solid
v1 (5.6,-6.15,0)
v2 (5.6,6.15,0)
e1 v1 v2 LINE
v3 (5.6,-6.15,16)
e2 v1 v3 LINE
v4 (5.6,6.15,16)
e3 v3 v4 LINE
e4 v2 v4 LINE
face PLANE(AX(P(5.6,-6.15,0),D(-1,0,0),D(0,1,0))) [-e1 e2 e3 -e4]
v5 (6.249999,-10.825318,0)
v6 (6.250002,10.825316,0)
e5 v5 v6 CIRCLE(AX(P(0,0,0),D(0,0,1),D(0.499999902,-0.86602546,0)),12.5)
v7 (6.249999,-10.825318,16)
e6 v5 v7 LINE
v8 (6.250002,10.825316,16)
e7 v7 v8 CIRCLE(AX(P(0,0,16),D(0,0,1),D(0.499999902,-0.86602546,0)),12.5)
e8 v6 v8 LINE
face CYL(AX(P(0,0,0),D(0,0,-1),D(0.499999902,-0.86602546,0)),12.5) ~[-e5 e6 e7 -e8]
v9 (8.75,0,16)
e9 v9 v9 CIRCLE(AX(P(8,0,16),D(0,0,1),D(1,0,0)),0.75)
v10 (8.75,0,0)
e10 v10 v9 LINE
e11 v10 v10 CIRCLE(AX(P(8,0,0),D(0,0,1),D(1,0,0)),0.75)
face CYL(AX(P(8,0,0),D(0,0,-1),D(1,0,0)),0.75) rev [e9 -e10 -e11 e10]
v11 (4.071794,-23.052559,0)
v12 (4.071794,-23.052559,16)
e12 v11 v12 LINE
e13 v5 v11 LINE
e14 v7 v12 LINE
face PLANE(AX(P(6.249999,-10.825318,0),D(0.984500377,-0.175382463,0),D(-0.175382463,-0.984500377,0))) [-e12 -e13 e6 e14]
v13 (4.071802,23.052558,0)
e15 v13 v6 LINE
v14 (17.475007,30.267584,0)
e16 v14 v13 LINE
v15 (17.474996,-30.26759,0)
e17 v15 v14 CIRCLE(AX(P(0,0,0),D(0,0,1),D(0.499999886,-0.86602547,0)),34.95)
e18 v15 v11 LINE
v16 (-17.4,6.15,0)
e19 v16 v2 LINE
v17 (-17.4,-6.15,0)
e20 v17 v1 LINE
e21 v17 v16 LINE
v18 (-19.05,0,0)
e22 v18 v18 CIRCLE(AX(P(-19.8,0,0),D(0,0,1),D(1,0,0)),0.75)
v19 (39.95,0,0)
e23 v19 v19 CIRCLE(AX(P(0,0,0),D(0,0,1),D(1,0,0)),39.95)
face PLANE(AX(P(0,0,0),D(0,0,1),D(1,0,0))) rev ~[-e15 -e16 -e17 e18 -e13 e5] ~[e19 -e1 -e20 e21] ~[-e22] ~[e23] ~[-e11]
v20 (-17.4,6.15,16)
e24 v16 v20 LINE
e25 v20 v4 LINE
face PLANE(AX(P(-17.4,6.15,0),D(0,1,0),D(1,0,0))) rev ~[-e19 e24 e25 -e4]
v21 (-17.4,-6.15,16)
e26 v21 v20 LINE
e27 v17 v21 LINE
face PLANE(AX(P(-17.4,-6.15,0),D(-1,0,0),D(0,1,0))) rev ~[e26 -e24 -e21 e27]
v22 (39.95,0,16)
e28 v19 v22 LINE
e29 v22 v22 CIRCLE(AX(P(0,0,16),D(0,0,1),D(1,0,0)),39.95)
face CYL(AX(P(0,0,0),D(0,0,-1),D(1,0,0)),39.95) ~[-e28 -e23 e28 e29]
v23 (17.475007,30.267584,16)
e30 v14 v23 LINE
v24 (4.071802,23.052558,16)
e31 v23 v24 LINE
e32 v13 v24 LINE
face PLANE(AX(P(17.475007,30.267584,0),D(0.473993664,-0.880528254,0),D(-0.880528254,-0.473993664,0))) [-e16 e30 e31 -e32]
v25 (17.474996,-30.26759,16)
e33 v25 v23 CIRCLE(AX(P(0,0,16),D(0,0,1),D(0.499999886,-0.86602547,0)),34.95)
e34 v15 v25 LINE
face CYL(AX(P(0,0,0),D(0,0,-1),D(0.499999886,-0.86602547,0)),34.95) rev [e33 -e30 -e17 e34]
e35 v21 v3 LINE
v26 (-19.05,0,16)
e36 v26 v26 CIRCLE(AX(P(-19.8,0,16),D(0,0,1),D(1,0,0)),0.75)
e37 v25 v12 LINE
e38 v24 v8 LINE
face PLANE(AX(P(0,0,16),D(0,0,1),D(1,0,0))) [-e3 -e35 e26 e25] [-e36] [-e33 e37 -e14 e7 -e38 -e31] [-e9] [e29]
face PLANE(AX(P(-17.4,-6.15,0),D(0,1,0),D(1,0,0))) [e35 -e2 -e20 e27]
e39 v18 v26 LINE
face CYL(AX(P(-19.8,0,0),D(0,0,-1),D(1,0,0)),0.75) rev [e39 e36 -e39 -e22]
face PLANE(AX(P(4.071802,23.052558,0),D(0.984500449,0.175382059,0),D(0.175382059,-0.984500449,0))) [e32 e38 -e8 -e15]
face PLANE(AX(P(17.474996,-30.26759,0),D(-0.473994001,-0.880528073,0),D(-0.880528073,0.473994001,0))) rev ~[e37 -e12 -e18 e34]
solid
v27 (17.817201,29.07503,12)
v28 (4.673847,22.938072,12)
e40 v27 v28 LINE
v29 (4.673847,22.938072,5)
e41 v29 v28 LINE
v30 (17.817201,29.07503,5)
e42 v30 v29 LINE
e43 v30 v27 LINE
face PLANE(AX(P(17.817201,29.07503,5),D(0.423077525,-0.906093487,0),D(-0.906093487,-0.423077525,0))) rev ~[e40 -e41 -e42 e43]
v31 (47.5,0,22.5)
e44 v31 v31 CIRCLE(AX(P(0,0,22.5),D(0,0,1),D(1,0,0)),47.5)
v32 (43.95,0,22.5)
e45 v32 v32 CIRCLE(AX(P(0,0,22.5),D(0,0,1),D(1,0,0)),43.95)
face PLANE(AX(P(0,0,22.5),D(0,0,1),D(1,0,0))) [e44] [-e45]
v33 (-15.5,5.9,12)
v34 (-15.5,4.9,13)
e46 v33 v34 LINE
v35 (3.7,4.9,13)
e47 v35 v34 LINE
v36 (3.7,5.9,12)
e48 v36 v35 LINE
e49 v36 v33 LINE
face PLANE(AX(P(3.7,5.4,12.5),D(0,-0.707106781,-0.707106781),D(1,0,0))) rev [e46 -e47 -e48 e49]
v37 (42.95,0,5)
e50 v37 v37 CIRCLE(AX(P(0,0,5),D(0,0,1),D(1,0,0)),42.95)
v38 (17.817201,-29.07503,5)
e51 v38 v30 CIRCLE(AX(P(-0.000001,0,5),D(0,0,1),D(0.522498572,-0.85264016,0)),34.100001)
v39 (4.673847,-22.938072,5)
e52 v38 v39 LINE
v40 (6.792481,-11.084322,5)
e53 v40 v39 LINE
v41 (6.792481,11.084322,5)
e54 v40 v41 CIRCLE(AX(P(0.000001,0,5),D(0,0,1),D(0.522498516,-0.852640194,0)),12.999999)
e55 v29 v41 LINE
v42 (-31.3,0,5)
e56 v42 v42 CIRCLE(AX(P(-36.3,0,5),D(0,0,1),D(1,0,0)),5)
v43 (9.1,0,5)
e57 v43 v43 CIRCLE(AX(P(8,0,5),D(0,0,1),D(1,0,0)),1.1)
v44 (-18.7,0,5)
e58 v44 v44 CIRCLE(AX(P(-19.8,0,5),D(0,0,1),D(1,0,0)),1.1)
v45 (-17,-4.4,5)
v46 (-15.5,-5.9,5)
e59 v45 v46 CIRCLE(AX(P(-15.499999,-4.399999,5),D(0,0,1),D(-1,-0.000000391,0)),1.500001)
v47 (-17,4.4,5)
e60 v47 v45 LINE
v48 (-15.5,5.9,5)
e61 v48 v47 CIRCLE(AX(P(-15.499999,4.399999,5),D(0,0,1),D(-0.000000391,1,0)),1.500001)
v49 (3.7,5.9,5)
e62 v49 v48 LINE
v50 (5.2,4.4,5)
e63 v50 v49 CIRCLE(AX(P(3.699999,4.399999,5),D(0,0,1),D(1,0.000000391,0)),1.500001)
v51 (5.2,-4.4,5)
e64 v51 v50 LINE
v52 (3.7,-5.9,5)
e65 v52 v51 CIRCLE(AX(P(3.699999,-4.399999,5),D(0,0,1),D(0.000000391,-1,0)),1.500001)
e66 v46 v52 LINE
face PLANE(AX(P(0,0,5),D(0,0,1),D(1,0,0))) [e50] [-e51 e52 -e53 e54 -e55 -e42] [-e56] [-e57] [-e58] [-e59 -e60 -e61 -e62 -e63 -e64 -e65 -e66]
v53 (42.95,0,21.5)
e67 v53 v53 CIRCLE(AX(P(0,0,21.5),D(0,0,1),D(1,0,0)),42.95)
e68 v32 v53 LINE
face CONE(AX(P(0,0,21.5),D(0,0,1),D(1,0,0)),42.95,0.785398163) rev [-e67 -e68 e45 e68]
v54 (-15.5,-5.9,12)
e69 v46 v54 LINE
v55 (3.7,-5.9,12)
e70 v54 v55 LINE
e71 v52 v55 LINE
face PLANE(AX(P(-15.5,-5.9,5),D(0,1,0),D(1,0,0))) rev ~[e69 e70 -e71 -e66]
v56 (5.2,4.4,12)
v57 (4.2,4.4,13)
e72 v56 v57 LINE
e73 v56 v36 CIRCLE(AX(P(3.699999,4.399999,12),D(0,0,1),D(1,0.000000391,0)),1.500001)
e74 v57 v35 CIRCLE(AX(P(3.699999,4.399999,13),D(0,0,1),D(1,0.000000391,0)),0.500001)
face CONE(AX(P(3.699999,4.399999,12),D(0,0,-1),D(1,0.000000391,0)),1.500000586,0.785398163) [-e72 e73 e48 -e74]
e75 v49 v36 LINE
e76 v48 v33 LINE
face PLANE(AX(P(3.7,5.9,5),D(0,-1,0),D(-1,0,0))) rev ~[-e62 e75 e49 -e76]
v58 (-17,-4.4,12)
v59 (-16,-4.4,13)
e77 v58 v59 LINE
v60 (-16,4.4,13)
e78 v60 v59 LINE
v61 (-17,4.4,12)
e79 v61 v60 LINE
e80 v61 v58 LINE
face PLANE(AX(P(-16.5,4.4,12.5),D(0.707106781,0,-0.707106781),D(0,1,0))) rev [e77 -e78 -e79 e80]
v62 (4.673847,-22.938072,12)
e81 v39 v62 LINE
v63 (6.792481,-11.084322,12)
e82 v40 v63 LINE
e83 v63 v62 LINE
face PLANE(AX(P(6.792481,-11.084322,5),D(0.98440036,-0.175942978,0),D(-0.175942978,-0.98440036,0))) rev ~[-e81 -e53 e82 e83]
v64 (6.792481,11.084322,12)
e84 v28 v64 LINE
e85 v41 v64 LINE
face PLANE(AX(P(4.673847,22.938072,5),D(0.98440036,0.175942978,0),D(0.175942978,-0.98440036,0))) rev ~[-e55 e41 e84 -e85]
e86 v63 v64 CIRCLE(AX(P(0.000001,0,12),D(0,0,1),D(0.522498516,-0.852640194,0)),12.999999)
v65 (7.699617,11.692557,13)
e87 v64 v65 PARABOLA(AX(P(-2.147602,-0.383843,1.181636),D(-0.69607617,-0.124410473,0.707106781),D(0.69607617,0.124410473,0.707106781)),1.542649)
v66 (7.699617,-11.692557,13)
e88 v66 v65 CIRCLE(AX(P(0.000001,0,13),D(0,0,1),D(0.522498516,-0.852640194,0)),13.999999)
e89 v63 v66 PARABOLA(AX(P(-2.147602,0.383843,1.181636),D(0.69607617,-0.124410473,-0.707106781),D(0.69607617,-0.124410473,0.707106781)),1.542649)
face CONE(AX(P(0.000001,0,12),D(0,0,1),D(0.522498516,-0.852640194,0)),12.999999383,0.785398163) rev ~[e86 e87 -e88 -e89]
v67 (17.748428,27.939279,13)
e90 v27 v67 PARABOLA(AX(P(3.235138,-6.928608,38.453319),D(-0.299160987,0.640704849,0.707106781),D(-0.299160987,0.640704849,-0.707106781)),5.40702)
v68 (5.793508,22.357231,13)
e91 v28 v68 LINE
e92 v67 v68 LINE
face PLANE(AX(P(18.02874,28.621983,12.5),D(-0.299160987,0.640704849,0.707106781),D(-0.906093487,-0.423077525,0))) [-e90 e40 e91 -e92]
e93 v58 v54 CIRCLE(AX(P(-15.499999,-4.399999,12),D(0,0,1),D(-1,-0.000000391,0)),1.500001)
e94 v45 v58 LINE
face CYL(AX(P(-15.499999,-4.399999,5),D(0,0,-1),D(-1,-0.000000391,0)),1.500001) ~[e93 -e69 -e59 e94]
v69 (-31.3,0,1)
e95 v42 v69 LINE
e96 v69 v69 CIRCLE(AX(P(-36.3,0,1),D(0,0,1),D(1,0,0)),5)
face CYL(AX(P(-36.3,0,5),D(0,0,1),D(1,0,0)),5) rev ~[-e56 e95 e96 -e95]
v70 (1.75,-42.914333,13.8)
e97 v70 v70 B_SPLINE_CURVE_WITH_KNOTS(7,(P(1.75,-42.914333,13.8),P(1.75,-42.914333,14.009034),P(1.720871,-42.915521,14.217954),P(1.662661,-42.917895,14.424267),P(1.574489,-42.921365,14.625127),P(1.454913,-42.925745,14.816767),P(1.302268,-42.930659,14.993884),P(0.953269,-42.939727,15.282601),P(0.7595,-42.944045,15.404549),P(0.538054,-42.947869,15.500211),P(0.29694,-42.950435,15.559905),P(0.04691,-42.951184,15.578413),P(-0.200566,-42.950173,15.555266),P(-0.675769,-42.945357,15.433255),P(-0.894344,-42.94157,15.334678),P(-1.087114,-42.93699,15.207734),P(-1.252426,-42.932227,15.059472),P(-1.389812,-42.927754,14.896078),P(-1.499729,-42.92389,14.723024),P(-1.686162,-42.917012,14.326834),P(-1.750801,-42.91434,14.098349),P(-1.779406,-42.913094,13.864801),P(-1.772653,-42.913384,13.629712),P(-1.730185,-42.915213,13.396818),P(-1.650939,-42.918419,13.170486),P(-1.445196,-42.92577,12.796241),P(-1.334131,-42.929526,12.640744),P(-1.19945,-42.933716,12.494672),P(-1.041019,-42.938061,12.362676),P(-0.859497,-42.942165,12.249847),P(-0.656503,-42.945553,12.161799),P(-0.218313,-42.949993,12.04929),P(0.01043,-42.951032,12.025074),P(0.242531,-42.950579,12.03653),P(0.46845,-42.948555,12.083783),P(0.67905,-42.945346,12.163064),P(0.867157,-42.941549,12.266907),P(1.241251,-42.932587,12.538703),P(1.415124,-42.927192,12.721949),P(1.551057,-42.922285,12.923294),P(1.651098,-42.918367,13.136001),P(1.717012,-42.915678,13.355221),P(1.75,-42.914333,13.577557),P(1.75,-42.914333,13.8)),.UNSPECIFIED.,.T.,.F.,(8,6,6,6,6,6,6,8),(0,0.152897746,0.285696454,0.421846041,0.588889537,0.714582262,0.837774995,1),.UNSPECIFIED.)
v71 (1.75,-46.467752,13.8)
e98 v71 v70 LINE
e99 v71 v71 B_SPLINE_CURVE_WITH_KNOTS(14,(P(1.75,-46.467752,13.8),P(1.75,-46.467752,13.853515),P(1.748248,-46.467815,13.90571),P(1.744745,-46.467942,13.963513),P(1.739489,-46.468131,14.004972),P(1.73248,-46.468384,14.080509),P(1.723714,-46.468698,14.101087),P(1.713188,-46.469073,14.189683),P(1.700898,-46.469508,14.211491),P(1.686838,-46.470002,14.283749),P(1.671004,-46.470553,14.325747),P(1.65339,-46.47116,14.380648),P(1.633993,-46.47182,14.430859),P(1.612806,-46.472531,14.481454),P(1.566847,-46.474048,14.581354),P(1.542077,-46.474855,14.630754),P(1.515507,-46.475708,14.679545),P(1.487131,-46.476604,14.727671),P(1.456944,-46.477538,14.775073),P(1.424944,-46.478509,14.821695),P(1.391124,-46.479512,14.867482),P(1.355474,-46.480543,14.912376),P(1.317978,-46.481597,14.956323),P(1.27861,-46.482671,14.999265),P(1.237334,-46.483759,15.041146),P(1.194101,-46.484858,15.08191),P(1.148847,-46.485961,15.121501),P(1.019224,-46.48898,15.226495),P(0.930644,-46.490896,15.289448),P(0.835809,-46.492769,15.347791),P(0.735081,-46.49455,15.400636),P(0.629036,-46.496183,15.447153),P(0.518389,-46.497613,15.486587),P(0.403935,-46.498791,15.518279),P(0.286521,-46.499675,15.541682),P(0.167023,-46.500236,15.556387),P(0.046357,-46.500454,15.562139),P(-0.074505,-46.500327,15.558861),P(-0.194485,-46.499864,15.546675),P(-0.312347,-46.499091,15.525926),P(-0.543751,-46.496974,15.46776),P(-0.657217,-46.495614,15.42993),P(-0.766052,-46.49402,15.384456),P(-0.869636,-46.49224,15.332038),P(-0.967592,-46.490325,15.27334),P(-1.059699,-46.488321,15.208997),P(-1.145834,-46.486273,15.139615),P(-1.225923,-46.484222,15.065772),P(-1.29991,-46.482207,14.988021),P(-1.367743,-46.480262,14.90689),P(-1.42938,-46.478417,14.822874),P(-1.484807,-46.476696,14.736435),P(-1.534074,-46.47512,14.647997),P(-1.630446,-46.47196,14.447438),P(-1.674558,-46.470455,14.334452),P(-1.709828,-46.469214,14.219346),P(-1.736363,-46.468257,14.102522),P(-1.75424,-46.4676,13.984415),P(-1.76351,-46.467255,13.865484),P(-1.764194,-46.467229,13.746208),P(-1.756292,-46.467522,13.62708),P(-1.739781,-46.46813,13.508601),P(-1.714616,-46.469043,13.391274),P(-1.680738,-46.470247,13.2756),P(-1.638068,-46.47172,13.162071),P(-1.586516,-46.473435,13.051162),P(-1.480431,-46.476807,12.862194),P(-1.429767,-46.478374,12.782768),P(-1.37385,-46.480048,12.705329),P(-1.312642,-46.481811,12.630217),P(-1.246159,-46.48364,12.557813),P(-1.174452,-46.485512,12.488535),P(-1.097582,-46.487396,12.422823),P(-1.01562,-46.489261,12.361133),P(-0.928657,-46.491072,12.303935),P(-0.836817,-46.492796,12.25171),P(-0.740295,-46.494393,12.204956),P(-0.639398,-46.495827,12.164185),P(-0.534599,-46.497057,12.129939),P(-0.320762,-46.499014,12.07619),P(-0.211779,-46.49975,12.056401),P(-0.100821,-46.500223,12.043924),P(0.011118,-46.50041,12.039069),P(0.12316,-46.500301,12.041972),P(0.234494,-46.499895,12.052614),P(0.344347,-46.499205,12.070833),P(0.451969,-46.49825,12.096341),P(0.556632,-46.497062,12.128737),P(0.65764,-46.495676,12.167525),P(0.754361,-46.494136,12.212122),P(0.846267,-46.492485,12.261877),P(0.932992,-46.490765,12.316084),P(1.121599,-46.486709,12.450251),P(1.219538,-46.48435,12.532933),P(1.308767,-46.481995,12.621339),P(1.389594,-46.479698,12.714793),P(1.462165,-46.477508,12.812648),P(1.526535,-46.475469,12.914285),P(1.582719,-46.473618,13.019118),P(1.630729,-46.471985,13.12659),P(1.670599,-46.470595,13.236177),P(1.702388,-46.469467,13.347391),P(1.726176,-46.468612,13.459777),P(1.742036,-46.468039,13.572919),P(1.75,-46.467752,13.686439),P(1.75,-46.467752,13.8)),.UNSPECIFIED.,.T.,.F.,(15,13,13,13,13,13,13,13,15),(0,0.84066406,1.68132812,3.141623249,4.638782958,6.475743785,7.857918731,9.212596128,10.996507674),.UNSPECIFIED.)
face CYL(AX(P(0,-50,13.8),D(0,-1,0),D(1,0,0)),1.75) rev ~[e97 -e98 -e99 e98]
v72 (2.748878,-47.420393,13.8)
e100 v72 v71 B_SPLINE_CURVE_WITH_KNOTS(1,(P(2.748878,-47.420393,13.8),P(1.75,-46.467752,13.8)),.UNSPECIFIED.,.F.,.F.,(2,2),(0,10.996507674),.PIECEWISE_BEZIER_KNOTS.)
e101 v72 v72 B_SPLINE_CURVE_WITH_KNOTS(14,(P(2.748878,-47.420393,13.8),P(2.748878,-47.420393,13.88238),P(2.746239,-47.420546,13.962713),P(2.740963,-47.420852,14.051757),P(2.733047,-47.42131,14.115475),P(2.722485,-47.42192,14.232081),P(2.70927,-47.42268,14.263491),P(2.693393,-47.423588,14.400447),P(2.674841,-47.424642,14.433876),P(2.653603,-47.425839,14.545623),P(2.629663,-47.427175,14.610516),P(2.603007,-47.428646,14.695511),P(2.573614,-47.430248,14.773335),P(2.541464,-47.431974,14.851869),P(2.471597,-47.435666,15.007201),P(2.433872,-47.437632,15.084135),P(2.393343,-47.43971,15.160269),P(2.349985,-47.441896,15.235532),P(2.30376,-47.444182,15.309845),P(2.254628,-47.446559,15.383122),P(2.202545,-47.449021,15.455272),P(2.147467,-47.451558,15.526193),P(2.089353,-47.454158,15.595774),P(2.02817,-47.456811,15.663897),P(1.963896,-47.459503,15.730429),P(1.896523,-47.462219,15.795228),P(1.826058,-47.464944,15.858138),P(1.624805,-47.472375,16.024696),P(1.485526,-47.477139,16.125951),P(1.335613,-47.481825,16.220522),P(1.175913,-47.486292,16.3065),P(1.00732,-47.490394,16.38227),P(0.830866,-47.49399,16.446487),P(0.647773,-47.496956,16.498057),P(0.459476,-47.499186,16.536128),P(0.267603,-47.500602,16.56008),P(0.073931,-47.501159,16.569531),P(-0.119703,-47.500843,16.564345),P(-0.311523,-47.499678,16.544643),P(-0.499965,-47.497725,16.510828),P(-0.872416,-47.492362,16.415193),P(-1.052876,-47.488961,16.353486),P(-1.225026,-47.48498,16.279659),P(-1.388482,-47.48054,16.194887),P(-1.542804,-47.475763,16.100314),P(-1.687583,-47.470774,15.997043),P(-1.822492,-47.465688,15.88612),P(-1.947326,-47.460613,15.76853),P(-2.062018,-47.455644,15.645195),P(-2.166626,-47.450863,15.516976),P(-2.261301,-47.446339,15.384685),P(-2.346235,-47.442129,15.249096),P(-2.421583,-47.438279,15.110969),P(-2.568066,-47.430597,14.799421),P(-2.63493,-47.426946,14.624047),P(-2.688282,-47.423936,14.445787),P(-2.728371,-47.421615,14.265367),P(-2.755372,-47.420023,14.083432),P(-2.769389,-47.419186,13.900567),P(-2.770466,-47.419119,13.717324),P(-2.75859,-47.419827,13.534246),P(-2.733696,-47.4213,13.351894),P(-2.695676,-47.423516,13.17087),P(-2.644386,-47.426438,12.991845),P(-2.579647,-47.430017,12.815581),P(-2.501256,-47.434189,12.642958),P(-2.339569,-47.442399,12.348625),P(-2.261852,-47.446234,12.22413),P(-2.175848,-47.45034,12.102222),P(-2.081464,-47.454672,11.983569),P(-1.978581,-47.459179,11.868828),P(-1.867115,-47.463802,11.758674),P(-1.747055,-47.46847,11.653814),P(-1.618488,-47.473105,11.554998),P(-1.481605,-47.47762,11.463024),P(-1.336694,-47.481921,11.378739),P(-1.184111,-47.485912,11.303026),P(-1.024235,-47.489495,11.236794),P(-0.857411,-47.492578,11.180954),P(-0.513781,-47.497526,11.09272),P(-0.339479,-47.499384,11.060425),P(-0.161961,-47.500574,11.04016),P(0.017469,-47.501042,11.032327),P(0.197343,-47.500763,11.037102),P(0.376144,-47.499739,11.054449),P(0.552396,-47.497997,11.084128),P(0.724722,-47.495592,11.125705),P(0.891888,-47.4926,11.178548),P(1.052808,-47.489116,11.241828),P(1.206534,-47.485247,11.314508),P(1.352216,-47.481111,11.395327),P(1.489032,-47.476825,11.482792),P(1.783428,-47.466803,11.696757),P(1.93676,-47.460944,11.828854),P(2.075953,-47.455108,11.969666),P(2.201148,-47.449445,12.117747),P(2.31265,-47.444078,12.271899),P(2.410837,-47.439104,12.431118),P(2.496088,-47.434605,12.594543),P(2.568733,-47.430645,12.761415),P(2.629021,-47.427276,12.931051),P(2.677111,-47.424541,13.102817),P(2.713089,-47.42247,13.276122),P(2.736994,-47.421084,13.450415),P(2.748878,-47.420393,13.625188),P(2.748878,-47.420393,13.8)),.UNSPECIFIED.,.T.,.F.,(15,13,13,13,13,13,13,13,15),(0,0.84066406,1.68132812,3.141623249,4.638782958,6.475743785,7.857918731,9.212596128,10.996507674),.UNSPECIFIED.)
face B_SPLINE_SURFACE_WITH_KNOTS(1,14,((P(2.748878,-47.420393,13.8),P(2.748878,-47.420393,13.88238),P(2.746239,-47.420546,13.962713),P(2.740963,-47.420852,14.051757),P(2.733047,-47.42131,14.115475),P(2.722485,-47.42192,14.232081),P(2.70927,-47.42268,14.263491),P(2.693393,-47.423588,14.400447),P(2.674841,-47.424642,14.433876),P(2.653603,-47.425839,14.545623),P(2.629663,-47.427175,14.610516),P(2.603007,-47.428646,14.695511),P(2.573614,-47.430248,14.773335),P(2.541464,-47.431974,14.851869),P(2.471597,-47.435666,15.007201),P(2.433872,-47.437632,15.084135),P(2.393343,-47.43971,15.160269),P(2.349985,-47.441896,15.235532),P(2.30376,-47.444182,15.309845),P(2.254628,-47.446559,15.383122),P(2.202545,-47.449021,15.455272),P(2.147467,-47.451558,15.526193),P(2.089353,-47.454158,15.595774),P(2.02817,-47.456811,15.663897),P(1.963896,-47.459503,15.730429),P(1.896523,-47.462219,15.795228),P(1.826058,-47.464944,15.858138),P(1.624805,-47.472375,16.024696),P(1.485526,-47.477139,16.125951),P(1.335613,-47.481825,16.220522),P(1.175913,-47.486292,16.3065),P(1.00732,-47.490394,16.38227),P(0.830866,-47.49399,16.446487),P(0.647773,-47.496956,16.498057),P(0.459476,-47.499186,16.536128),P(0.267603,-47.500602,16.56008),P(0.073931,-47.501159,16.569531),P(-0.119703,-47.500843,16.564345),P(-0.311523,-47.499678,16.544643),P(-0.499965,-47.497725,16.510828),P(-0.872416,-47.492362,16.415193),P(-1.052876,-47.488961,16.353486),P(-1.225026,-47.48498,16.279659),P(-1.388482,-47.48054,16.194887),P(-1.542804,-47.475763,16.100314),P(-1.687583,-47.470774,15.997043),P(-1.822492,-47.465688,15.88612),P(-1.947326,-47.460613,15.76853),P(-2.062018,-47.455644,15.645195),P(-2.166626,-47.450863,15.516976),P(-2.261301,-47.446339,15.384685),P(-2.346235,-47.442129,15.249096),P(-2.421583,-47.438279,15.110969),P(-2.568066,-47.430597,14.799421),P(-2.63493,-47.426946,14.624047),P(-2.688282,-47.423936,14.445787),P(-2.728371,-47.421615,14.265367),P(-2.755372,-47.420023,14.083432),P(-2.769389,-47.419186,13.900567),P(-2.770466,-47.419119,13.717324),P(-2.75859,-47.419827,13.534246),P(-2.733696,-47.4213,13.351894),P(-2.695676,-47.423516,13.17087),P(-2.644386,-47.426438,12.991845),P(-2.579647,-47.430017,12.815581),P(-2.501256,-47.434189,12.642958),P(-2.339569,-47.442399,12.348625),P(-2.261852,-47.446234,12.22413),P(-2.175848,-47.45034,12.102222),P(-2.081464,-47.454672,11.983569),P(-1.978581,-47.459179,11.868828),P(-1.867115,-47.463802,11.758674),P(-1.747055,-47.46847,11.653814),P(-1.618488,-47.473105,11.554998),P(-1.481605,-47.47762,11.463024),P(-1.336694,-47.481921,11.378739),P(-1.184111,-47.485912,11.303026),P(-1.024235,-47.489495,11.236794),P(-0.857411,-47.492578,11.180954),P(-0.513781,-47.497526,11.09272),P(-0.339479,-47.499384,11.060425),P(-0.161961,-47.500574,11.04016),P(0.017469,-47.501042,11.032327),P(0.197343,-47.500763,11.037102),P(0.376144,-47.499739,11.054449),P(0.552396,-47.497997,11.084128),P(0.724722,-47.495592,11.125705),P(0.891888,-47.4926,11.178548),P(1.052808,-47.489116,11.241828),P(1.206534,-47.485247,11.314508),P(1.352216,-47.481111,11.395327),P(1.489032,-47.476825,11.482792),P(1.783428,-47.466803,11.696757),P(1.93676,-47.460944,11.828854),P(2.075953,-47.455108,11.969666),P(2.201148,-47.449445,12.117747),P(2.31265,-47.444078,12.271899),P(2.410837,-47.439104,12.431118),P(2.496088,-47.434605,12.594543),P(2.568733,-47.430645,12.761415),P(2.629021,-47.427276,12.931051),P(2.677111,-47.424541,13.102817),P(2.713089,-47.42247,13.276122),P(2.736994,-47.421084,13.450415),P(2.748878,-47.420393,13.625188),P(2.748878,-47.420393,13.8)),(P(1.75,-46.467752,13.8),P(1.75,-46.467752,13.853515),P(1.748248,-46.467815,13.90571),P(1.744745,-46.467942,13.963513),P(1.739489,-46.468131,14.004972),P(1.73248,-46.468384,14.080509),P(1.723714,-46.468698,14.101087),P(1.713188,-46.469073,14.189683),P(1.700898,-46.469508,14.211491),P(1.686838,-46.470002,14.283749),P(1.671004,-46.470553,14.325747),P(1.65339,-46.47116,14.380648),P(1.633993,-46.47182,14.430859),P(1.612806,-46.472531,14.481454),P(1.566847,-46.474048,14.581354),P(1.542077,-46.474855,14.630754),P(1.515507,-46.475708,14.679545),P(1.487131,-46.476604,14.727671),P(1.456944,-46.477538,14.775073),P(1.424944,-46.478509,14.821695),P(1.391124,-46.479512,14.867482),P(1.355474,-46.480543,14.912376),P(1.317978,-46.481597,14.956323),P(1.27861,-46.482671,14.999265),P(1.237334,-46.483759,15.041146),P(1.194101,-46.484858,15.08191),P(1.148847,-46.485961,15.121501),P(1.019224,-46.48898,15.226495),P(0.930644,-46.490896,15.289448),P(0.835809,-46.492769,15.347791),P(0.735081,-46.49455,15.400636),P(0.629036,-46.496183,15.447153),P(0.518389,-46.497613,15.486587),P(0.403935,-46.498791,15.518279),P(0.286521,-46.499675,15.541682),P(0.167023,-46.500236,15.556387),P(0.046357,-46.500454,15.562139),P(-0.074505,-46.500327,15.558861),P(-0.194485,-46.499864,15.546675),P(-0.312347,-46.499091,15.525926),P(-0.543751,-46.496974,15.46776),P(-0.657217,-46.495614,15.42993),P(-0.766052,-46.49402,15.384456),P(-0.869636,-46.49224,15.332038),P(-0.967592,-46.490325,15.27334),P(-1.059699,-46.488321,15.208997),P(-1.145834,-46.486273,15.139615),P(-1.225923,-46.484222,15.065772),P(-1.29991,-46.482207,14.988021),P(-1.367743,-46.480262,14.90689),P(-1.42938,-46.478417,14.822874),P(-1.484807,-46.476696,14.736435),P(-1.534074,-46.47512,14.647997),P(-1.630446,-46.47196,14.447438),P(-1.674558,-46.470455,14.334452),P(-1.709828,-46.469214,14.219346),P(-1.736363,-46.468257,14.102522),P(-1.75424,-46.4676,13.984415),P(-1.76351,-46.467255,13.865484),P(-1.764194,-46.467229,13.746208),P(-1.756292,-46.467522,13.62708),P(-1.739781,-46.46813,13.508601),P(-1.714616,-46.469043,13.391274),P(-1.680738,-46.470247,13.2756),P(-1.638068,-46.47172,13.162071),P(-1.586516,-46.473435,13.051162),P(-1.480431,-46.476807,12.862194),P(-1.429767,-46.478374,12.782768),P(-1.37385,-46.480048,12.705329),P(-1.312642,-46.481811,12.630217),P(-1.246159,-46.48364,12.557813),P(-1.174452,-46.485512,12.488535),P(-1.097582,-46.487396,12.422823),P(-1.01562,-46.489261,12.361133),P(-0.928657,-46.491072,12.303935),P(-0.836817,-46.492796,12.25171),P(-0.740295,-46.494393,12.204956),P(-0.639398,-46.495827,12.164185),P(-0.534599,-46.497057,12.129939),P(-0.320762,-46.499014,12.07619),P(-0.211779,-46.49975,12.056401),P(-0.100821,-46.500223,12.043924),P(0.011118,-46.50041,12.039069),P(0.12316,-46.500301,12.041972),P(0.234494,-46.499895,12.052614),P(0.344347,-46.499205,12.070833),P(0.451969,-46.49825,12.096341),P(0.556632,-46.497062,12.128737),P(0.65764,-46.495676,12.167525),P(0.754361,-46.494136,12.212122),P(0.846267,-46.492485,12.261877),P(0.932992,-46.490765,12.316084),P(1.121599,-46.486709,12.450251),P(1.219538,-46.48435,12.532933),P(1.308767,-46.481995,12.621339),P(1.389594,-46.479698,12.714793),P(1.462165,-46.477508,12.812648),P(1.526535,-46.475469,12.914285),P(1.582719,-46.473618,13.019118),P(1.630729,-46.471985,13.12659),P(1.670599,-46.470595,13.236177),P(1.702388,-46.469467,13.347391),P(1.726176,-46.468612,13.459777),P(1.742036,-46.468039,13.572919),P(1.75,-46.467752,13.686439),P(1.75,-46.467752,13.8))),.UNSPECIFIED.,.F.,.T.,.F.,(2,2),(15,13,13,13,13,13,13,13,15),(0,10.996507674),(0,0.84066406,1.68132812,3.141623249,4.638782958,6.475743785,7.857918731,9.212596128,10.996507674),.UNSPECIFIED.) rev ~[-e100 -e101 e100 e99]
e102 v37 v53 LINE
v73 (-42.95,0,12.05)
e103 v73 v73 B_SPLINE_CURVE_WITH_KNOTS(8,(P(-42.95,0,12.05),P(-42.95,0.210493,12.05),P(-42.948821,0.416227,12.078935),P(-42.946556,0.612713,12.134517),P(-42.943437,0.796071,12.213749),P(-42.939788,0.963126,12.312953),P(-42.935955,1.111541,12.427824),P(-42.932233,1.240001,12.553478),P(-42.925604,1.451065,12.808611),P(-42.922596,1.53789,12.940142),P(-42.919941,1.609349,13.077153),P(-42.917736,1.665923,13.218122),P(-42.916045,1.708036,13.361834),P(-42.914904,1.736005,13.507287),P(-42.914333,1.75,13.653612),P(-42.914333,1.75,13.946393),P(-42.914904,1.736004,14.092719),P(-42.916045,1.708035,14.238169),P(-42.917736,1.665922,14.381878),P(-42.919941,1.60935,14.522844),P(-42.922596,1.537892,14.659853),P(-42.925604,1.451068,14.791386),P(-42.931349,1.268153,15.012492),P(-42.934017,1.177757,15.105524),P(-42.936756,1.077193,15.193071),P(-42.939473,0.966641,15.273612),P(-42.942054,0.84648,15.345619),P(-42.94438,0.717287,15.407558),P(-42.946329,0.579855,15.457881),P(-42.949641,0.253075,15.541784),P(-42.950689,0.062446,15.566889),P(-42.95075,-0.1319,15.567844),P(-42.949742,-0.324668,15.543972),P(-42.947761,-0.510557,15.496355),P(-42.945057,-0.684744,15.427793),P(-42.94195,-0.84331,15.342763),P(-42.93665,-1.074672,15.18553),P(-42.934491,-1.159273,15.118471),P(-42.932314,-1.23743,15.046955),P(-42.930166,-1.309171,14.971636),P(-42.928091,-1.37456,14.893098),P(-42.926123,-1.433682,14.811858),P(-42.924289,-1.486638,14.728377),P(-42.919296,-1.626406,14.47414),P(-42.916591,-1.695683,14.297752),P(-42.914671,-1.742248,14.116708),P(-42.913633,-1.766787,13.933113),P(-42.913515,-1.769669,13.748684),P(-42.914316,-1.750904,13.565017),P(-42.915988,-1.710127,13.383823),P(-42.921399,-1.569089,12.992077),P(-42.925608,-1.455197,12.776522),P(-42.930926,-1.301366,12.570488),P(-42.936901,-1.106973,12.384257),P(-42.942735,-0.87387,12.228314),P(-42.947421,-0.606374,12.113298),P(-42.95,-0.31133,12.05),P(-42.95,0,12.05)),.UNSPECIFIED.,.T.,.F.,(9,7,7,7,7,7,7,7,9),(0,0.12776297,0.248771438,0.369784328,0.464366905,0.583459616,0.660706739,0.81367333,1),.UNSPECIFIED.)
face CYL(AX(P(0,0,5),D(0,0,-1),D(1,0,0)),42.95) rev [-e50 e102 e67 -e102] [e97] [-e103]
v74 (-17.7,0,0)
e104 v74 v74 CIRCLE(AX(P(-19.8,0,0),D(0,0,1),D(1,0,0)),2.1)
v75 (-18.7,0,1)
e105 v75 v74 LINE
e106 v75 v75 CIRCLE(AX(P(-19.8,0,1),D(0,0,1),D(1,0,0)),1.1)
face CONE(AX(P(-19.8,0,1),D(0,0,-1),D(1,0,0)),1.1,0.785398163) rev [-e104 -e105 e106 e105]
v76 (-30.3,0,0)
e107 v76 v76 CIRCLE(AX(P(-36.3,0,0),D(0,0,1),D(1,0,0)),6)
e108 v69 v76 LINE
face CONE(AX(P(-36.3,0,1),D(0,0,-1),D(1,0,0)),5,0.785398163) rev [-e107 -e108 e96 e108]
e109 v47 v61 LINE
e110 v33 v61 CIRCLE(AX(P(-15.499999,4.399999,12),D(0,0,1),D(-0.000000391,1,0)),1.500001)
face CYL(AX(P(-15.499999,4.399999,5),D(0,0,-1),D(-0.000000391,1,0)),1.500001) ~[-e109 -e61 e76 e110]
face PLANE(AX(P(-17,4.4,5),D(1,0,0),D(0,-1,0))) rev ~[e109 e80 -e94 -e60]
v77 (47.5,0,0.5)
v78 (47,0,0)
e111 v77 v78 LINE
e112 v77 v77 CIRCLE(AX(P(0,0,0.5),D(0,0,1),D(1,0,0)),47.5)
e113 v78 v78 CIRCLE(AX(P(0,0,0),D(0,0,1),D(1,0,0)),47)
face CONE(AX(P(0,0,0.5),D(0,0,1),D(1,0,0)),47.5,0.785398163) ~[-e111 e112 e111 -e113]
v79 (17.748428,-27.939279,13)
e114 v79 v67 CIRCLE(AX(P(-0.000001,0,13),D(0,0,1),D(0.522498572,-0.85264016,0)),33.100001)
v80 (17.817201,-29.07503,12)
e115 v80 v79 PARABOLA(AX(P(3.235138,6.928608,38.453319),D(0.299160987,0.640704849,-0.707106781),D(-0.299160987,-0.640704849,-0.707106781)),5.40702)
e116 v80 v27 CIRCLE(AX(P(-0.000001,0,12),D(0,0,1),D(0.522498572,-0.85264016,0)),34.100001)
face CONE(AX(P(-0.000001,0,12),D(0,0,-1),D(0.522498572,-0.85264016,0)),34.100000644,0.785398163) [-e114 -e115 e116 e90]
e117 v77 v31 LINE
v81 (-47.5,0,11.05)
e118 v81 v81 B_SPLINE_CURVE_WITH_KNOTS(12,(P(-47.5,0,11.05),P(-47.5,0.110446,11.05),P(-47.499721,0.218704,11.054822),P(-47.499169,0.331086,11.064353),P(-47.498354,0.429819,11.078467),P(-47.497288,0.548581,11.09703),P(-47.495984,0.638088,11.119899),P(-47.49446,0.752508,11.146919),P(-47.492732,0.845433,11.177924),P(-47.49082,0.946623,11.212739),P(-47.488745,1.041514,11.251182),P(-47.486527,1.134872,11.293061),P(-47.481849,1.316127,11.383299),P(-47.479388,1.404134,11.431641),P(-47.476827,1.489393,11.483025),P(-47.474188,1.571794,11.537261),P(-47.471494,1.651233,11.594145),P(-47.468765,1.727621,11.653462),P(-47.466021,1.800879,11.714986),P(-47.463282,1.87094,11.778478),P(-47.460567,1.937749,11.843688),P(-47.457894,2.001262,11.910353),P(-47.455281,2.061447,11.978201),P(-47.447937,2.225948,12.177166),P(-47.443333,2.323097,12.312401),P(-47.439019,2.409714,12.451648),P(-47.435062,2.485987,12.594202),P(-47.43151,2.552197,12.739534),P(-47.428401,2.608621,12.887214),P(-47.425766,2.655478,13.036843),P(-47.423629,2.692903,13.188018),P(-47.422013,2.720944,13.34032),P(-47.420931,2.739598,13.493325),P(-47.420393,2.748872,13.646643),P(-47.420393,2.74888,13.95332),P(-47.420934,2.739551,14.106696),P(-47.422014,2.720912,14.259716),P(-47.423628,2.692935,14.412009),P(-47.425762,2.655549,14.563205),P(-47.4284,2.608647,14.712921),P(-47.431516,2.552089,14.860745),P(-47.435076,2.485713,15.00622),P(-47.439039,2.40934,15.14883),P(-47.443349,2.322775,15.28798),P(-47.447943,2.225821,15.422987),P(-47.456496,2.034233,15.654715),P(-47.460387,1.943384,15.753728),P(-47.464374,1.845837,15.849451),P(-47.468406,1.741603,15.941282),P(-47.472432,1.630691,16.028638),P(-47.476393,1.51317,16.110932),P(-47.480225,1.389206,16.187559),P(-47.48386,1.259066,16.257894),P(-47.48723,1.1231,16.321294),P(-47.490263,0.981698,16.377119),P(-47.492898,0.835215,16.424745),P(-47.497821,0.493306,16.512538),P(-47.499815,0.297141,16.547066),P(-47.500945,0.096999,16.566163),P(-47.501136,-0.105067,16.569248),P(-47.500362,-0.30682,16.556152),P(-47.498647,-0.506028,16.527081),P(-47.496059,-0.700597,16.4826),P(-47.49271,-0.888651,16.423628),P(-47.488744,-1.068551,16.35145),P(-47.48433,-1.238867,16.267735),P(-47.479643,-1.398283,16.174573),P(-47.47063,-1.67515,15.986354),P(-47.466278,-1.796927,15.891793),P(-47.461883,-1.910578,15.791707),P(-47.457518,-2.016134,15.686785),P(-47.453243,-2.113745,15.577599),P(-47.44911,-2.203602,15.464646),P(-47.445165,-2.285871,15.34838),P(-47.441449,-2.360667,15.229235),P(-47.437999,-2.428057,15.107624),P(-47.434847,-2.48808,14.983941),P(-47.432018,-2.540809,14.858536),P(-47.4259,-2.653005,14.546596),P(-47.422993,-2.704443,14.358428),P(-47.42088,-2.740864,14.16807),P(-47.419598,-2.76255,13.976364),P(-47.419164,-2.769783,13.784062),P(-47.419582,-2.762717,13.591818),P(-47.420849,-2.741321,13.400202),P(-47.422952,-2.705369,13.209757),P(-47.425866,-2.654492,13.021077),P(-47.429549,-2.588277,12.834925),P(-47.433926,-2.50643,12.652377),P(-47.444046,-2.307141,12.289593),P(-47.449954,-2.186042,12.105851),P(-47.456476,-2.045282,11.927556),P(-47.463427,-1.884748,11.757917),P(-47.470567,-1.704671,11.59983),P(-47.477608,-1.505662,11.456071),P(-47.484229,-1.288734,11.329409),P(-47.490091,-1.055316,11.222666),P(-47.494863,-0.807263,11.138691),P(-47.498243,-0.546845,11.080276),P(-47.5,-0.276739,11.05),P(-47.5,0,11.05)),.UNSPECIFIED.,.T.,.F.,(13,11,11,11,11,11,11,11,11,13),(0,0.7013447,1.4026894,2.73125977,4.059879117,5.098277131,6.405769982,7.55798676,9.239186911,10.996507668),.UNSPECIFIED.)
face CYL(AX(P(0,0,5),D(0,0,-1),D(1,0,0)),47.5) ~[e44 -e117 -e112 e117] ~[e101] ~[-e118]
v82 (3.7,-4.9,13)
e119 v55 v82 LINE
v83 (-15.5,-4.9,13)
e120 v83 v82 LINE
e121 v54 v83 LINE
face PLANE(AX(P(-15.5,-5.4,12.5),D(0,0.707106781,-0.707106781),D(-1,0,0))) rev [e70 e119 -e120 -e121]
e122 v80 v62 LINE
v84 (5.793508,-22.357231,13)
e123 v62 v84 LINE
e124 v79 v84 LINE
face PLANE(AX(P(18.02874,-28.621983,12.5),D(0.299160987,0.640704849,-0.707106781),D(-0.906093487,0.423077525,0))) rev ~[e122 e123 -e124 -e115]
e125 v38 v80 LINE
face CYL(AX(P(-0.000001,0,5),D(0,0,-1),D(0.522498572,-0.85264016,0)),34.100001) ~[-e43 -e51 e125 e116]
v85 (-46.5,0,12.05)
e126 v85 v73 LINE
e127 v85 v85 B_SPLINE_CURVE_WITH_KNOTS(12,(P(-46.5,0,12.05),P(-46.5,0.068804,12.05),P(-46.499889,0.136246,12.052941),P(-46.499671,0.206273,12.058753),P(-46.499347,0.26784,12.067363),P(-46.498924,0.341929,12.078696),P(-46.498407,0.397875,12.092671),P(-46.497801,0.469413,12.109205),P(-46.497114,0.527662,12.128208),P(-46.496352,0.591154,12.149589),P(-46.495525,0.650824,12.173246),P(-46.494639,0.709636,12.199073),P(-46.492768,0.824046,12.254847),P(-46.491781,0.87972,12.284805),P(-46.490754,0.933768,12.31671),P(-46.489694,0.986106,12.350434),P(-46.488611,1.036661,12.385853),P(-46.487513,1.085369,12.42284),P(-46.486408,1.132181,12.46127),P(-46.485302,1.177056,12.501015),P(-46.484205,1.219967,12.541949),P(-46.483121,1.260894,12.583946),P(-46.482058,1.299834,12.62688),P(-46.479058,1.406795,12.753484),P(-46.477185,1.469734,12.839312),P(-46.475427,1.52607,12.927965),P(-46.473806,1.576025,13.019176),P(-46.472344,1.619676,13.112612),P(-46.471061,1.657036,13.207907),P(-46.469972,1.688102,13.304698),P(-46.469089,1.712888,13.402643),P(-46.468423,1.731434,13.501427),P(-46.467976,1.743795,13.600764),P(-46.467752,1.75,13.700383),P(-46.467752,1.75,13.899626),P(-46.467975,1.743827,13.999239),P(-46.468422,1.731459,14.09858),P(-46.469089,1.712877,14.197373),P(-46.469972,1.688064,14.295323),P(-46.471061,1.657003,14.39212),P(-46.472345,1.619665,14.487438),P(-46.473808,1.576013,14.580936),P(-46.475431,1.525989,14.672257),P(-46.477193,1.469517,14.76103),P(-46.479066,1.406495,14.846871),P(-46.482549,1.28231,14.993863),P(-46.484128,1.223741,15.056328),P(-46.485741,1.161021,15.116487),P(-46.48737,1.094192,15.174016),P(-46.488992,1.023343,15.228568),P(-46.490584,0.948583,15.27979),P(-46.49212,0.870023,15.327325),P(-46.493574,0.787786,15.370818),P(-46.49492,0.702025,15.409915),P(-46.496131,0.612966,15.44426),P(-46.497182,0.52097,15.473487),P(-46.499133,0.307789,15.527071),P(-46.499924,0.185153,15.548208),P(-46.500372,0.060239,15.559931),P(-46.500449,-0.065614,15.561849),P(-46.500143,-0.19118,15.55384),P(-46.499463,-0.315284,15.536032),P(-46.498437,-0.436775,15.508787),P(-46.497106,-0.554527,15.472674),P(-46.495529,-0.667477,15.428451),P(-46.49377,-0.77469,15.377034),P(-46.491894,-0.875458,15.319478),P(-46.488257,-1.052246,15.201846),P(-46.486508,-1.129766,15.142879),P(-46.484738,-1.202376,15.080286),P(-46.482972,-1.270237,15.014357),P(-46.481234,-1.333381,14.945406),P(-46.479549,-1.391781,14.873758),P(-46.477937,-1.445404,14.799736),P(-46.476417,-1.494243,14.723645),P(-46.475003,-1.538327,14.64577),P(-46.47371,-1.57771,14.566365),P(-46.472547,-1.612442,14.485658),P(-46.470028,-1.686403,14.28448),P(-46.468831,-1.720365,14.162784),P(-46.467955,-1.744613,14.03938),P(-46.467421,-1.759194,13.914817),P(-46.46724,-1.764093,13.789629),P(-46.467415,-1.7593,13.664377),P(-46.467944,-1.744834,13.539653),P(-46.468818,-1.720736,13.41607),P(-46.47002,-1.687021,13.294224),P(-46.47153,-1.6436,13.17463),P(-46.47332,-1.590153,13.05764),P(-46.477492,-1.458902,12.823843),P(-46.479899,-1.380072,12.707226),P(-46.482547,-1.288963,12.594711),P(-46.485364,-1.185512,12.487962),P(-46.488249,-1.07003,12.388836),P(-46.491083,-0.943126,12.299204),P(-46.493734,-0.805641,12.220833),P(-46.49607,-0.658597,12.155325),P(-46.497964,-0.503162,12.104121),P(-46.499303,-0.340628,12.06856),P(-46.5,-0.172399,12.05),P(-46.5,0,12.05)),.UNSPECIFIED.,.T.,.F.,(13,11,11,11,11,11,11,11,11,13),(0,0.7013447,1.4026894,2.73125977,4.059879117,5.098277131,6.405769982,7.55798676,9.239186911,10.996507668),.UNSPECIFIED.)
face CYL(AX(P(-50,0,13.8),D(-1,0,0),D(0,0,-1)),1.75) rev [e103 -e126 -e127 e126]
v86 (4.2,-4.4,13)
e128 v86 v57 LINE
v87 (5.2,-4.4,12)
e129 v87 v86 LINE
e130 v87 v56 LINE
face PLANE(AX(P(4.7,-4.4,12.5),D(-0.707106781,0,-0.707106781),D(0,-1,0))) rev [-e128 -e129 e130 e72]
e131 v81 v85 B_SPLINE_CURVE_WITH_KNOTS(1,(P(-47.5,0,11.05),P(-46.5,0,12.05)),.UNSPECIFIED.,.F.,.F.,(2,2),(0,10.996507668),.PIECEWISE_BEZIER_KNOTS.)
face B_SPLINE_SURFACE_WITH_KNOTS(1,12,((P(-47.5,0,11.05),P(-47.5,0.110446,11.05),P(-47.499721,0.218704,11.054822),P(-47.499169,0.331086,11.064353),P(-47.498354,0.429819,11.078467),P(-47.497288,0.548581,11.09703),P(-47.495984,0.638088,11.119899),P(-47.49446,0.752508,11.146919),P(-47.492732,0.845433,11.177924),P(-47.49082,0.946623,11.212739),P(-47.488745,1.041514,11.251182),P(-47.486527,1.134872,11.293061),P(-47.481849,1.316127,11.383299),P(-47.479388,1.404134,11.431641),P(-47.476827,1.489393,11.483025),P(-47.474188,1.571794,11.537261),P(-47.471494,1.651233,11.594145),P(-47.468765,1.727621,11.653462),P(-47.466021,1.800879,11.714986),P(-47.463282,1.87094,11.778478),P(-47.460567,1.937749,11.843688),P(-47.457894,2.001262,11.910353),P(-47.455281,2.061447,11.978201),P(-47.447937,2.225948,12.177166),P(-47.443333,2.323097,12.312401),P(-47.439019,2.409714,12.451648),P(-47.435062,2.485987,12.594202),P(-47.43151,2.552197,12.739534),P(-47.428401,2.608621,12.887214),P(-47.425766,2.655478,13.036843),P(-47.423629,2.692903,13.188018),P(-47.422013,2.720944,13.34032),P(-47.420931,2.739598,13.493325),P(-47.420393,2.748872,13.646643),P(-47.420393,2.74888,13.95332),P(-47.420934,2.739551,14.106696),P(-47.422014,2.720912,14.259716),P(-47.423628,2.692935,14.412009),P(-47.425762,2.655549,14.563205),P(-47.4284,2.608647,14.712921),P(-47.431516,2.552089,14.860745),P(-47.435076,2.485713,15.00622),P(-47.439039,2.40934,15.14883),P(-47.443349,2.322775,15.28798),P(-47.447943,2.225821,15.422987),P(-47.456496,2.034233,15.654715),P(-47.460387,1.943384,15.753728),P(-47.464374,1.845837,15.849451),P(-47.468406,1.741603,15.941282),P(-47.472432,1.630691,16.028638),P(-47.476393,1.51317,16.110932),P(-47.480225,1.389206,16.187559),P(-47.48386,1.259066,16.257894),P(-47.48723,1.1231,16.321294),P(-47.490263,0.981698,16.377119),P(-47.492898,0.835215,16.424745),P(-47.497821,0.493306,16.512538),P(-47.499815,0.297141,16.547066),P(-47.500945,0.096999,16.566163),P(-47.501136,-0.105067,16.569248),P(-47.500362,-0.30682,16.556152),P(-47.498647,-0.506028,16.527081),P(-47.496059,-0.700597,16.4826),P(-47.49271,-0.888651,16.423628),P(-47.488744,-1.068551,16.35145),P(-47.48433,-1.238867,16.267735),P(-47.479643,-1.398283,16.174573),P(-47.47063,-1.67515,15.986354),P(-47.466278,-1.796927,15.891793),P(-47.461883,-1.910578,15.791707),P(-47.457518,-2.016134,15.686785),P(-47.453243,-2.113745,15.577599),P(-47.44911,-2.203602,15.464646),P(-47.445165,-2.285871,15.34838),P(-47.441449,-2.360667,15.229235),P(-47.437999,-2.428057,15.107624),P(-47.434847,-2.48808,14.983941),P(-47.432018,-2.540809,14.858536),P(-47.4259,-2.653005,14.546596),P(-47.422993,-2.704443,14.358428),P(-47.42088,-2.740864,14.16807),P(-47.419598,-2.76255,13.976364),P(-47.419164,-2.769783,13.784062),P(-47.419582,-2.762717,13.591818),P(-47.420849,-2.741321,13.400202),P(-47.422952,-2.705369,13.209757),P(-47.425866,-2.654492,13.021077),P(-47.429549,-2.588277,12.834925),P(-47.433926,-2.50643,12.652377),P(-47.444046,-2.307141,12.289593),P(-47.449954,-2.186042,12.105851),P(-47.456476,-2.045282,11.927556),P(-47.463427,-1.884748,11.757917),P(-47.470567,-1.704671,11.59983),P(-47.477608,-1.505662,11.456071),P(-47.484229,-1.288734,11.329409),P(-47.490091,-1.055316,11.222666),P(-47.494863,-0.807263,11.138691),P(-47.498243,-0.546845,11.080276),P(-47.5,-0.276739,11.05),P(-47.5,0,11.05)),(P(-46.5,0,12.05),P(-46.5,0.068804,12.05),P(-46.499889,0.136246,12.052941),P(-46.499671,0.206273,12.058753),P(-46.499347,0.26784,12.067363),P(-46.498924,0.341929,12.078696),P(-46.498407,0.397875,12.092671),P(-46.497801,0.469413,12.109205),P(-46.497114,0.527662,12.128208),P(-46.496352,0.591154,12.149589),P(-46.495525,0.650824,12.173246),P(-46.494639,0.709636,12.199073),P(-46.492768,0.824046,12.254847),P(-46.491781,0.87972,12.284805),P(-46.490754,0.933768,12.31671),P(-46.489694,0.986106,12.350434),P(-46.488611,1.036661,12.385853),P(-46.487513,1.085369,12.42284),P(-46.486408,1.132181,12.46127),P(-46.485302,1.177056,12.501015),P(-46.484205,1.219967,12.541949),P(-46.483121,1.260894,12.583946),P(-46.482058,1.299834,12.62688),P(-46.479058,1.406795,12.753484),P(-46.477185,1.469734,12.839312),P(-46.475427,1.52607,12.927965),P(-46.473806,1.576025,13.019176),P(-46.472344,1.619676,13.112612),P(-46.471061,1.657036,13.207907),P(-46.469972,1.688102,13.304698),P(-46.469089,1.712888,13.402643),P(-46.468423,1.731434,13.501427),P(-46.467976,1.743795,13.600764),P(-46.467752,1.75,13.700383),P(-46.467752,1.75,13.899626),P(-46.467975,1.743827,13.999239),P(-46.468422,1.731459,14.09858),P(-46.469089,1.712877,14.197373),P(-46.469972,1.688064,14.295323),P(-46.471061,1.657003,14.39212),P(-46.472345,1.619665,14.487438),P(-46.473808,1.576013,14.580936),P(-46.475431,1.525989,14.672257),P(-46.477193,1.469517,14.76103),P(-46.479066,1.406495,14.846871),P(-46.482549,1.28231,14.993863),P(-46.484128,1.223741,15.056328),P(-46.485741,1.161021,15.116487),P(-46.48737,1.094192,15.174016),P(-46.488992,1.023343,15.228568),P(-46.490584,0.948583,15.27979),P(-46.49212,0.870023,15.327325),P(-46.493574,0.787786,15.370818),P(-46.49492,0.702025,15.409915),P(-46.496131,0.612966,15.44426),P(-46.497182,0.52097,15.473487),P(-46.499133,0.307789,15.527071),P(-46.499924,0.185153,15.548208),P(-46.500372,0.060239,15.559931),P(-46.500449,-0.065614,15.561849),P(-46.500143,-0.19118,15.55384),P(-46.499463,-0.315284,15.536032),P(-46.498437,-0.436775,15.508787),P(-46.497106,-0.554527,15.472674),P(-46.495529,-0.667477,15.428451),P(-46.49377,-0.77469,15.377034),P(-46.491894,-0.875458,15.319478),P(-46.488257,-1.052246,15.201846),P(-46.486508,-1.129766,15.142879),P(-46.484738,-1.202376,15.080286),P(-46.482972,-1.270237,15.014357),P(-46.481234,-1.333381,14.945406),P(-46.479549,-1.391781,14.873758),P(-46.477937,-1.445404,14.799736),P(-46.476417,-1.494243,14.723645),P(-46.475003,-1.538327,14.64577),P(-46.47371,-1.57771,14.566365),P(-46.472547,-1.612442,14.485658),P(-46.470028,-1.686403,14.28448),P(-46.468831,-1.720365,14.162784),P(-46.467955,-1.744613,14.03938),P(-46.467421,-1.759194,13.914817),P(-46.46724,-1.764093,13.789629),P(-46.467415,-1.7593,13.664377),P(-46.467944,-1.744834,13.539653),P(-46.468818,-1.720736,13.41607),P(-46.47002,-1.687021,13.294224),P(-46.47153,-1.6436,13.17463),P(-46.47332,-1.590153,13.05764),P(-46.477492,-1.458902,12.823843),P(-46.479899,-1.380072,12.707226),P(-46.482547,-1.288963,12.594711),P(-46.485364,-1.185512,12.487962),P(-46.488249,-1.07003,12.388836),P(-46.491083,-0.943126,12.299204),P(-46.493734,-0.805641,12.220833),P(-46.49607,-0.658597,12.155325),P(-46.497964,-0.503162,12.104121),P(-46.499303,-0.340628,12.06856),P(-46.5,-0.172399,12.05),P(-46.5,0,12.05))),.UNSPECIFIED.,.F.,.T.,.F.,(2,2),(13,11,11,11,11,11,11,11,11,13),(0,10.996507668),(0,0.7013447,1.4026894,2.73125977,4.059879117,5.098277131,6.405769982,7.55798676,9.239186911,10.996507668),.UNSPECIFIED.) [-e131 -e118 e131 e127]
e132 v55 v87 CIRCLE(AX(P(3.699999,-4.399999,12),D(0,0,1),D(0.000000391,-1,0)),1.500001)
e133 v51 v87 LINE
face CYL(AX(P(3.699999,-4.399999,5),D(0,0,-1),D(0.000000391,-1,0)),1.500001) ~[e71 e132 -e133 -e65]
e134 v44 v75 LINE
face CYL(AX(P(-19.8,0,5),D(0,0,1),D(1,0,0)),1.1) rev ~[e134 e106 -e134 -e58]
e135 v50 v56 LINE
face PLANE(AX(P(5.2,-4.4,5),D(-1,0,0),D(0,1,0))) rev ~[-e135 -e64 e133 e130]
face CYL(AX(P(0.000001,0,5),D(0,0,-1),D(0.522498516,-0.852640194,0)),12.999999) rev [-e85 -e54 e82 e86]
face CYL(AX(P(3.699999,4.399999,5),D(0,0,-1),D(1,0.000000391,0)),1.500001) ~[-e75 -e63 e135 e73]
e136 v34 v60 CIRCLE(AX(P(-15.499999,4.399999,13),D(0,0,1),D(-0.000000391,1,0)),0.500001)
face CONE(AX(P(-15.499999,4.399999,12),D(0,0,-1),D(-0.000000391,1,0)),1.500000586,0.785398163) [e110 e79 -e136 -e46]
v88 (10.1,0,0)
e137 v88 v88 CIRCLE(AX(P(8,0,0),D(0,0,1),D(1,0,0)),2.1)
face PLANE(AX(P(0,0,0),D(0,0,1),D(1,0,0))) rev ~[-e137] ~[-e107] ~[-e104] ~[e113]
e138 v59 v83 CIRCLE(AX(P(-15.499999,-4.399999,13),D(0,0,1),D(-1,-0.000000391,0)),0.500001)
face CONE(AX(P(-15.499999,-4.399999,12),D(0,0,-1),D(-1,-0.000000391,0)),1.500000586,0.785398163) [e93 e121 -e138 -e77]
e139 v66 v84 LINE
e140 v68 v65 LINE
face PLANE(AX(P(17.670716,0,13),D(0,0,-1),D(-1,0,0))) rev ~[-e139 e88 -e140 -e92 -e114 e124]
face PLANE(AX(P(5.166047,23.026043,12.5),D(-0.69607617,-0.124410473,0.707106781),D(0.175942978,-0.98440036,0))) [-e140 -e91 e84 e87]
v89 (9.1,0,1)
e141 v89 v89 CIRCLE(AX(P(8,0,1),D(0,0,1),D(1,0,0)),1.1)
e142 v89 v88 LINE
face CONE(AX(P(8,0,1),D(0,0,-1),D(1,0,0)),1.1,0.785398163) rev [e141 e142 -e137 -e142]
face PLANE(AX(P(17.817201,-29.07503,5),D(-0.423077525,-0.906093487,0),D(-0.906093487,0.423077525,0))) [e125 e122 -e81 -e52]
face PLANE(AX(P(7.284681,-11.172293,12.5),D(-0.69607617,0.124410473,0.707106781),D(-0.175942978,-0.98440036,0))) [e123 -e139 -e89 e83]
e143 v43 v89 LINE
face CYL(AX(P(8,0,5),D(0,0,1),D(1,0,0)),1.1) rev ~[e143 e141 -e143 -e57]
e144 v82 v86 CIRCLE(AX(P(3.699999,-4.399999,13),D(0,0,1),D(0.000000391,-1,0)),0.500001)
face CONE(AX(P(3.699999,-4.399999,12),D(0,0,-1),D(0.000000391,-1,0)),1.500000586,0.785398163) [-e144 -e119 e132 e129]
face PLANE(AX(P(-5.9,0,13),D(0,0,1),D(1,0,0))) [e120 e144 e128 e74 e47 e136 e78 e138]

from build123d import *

# Parameters (mm, degrees)
SKETCH021_R     = 39.95
SKETCH021_R_2   = 0.75
SKETCH021_W     = 23
SKETCH021_H     = 12.3
PAD010_DEPTH    = 16
SKETCH_R        = 47.5
PAD_DEPTH       = 5
PAD011_DEPTH    = 8
CHAMFER_SIZE    = 1
SKETCH023_R     = 47.5
SKETCH023_R_2   = 42.95
PAD012_DEPTH    = 17.5
CHAMFER001_SIZE = 1
CHAMFER002_SIZE = 0.5
SKETCH024_R     = 1.75
POCKET_DEPTH    = 8
SKETCH025_R     = 1.75
POCKET001_DEPTH = 8
CHAMFER003_SIZE = 1
CHAMFER004_SIZE = 1
SKETCH026_R     = 1.1
SKETCH026_R_2   = 5
POCKET002_DEPTH = 8
CHAMFER005_SIZE = 1


with BuildPart() as top_layer:
    # Sketch021 → Pad010 (new body)
    with BuildSketch(Plane.XY):
        Circle(SKETCH021_R)
        with Locations((8, 0)):
            Circle(SKETCH021_R_2, mode=Mode.SUBTRACT)
        with Locations((-19.8, 0)):
            Circle(SKETCH021_R_2, mode=Mode.SUBTRACT)
        with BuildLine():
            ThreePointArc((6.249999, -10.825318), (12.5, -2e-06), (6.250002, 10.825316))
            Line((4.071802, 23.052558), (6.250002, 10.825316))
            Line((17.475007, 30.267584), (4.071802, 23.052558))
            ThreePointArc((17.474996, -30.26759), (34.95, -6e-06), (17.475007, 30.267584))
            Line((17.474996, -30.26759), (4.071794, -23.052559))
            Line((6.249999, -10.825318), (4.071794, -23.052559))
        make_face(mode=Mode.SUBTRACT)
        with Locations((-5.9, 0)):
            Rectangle(SKETCH021_W, SKETCH021_H, mode=Mode.SUBTRACT)
    extrude(amount=PAD010_DEPTH)


with BuildPart() as top_servo_layer_jig:
    # Sketch → Pad (new body)
    with BuildSketch(Plane.XY):
        Circle(SKETCH_R)
    extrude(amount=PAD_DEPTH)

    # Sketch022 (on Face3 of Pad) → Pad011 (join)
    with BuildSketch(Plane.XY.offset(5)):
        with BuildLine():
            Line((-15.5, -5.9), (3.7, -5.9))
            ThreePointArc((3.7, -5.9), (4.76066, -5.46066), (5.2, -4.4))
            Line((5.2, -4.4), (5.2, 4.4))
            ThreePointArc((5.2, 4.4), (4.76066, 5.46066), (3.7, 5.9))
            Line((3.7, 5.9), (-15.5, 5.9))
            ThreePointArc((-15.5, 5.9), (-16.56066, 5.46066), (-17, 4.4))
            Line((-17, 4.4), (-17, -4.4))
            ThreePointArc((-17, -4.4), (-16.56066, -5.46066), (-15.5, -5.9))
        make_face()
        with BuildLine():
            ThreePointArc((6.792481, -11.084322), (13, 0), (6.792481, 11.084322))
            Line((4.673847, 22.938072), (6.792481, 11.084322))
            Line((17.817201, 29.07503), (4.673847, 22.938072))
            ThreePointArc((17.817201, -29.07503), (34.1, 0), (17.817201, 29.07503))
            Line((17.817201, -29.07503), (4.673847, -22.938072))
            Line((6.792481, -11.084322), (4.673847, -22.938072))
        make_face()
    extrude(amount=PAD011_DEPTH)

    # Chamfer
    chamfer_edges = [top_servo_layer_jig.edges().sort_by_distance(p)[0] for p in [
        (-5.9, -5.9, 13),
    ]]
    chamfer(chamfer_edges, length=CHAMFER_SIZE)

    # Sketch023 (on Face4 of Chamfer) → Pad012 (join)
    with BuildSketch(Plane.XY.offset(5)):
        Circle(SKETCH023_R)
        Circle(SKETCH023_R_2, mode=Mode.SUBTRACT)
    extrude(amount=PAD012_DEPTH)

    # Chamfer001
    chamfer001_edges = [top_servo_layer_jig.edges().sort_by_distance(p)[0] for p in [
        (-42.95, 0, 22.5),
    ]]
    chamfer(chamfer001_edges, length=CHAMFER001_SIZE)

    # Chamfer002
    chamfer002_edges = [top_servo_layer_jig.edges().sort_by_distance(p)[0] for p in [
        (-47.5, 0, 0),
    ]]
    chamfer(chamfer002_edges, length=CHAMFER002_SIZE)

    # Sketch024 (on DatumPlane) → Pocket (cut)
    with BuildSketch(Plane(origin=(-50, 0, 22.5), x_dir=(0, 0, -1), z_dir=(1, 0, 0))):
        with Locations((8.7, 0)):
            Circle(SKETCH024_R)
    extrude(amount=POCKET_DEPTH, mode=Mode.SUBTRACT)

    # Sketch025 (on DatumPlane) → Pocket001 (cut)
    with BuildSketch(Plane(origin=(0, -50, 22.5), x_dir=(1, 0, 0), z_dir=(0, -1, 0))):
        with Locations((0, -8.7)):
            Circle(SKETCH025_R)
    extrude(amount=-POCKET001_DEPTH, mode=Mode.SUBTRACT)

    # Chamfer003
    chamfer003_edges = [top_servo_layer_jig.edges().sort_by_distance(p)[0] for p in [
        (-47.5, 0, 15.55),
        (-1.75, -47.467752, 13.8),
    ]]
    chamfer(chamfer003_edges, length=CHAMFER003_SIZE)

    # Chamfer004
    chamfer004_edges = [top_servo_layer_jig.edges().sort_by_distance(p)[0] for p in [
        (5.733164, -17.011197, 13),
        (13, 0, 13),
        (5.733164, 17.011197, 13),
        (11.245524, 26.006551, 13),
        (34.1, 0, 13),
        (11.245524, -26.006551, 13),
    ]]
    chamfer(chamfer004_edges, length=CHAMFER004_SIZE)

    # Sketch026 (on Face4 of Chamfer004) → Pocket002 (cut)
    with BuildSketch(Plane.XY.offset(5)):
        with Locations((8, 0)):
            Circle(SKETCH026_R)
        with Locations((-19.8, 0)):
            Circle(SKETCH026_R)
        with Locations((-36.3, 0)):
            Circle(SKETCH026_R_2)
    extrude(amount=-POCKET002_DEPTH, mode=Mode.SUBTRACT)

    # Chamfer005
    chamfer005_edges = [top_servo_layer_jig.edges().sort_by_distance(p)[0] for p in [
        (6.9, 0, 0),
        (-20.9, 0, 0),
        (-41.3, 0, 0),
    ]]
    chamfer(chamfer005_edges, length=CHAMFER005_SIZE)


solid = Compound([top_layer.part, top_servo_layer_jig.part])
